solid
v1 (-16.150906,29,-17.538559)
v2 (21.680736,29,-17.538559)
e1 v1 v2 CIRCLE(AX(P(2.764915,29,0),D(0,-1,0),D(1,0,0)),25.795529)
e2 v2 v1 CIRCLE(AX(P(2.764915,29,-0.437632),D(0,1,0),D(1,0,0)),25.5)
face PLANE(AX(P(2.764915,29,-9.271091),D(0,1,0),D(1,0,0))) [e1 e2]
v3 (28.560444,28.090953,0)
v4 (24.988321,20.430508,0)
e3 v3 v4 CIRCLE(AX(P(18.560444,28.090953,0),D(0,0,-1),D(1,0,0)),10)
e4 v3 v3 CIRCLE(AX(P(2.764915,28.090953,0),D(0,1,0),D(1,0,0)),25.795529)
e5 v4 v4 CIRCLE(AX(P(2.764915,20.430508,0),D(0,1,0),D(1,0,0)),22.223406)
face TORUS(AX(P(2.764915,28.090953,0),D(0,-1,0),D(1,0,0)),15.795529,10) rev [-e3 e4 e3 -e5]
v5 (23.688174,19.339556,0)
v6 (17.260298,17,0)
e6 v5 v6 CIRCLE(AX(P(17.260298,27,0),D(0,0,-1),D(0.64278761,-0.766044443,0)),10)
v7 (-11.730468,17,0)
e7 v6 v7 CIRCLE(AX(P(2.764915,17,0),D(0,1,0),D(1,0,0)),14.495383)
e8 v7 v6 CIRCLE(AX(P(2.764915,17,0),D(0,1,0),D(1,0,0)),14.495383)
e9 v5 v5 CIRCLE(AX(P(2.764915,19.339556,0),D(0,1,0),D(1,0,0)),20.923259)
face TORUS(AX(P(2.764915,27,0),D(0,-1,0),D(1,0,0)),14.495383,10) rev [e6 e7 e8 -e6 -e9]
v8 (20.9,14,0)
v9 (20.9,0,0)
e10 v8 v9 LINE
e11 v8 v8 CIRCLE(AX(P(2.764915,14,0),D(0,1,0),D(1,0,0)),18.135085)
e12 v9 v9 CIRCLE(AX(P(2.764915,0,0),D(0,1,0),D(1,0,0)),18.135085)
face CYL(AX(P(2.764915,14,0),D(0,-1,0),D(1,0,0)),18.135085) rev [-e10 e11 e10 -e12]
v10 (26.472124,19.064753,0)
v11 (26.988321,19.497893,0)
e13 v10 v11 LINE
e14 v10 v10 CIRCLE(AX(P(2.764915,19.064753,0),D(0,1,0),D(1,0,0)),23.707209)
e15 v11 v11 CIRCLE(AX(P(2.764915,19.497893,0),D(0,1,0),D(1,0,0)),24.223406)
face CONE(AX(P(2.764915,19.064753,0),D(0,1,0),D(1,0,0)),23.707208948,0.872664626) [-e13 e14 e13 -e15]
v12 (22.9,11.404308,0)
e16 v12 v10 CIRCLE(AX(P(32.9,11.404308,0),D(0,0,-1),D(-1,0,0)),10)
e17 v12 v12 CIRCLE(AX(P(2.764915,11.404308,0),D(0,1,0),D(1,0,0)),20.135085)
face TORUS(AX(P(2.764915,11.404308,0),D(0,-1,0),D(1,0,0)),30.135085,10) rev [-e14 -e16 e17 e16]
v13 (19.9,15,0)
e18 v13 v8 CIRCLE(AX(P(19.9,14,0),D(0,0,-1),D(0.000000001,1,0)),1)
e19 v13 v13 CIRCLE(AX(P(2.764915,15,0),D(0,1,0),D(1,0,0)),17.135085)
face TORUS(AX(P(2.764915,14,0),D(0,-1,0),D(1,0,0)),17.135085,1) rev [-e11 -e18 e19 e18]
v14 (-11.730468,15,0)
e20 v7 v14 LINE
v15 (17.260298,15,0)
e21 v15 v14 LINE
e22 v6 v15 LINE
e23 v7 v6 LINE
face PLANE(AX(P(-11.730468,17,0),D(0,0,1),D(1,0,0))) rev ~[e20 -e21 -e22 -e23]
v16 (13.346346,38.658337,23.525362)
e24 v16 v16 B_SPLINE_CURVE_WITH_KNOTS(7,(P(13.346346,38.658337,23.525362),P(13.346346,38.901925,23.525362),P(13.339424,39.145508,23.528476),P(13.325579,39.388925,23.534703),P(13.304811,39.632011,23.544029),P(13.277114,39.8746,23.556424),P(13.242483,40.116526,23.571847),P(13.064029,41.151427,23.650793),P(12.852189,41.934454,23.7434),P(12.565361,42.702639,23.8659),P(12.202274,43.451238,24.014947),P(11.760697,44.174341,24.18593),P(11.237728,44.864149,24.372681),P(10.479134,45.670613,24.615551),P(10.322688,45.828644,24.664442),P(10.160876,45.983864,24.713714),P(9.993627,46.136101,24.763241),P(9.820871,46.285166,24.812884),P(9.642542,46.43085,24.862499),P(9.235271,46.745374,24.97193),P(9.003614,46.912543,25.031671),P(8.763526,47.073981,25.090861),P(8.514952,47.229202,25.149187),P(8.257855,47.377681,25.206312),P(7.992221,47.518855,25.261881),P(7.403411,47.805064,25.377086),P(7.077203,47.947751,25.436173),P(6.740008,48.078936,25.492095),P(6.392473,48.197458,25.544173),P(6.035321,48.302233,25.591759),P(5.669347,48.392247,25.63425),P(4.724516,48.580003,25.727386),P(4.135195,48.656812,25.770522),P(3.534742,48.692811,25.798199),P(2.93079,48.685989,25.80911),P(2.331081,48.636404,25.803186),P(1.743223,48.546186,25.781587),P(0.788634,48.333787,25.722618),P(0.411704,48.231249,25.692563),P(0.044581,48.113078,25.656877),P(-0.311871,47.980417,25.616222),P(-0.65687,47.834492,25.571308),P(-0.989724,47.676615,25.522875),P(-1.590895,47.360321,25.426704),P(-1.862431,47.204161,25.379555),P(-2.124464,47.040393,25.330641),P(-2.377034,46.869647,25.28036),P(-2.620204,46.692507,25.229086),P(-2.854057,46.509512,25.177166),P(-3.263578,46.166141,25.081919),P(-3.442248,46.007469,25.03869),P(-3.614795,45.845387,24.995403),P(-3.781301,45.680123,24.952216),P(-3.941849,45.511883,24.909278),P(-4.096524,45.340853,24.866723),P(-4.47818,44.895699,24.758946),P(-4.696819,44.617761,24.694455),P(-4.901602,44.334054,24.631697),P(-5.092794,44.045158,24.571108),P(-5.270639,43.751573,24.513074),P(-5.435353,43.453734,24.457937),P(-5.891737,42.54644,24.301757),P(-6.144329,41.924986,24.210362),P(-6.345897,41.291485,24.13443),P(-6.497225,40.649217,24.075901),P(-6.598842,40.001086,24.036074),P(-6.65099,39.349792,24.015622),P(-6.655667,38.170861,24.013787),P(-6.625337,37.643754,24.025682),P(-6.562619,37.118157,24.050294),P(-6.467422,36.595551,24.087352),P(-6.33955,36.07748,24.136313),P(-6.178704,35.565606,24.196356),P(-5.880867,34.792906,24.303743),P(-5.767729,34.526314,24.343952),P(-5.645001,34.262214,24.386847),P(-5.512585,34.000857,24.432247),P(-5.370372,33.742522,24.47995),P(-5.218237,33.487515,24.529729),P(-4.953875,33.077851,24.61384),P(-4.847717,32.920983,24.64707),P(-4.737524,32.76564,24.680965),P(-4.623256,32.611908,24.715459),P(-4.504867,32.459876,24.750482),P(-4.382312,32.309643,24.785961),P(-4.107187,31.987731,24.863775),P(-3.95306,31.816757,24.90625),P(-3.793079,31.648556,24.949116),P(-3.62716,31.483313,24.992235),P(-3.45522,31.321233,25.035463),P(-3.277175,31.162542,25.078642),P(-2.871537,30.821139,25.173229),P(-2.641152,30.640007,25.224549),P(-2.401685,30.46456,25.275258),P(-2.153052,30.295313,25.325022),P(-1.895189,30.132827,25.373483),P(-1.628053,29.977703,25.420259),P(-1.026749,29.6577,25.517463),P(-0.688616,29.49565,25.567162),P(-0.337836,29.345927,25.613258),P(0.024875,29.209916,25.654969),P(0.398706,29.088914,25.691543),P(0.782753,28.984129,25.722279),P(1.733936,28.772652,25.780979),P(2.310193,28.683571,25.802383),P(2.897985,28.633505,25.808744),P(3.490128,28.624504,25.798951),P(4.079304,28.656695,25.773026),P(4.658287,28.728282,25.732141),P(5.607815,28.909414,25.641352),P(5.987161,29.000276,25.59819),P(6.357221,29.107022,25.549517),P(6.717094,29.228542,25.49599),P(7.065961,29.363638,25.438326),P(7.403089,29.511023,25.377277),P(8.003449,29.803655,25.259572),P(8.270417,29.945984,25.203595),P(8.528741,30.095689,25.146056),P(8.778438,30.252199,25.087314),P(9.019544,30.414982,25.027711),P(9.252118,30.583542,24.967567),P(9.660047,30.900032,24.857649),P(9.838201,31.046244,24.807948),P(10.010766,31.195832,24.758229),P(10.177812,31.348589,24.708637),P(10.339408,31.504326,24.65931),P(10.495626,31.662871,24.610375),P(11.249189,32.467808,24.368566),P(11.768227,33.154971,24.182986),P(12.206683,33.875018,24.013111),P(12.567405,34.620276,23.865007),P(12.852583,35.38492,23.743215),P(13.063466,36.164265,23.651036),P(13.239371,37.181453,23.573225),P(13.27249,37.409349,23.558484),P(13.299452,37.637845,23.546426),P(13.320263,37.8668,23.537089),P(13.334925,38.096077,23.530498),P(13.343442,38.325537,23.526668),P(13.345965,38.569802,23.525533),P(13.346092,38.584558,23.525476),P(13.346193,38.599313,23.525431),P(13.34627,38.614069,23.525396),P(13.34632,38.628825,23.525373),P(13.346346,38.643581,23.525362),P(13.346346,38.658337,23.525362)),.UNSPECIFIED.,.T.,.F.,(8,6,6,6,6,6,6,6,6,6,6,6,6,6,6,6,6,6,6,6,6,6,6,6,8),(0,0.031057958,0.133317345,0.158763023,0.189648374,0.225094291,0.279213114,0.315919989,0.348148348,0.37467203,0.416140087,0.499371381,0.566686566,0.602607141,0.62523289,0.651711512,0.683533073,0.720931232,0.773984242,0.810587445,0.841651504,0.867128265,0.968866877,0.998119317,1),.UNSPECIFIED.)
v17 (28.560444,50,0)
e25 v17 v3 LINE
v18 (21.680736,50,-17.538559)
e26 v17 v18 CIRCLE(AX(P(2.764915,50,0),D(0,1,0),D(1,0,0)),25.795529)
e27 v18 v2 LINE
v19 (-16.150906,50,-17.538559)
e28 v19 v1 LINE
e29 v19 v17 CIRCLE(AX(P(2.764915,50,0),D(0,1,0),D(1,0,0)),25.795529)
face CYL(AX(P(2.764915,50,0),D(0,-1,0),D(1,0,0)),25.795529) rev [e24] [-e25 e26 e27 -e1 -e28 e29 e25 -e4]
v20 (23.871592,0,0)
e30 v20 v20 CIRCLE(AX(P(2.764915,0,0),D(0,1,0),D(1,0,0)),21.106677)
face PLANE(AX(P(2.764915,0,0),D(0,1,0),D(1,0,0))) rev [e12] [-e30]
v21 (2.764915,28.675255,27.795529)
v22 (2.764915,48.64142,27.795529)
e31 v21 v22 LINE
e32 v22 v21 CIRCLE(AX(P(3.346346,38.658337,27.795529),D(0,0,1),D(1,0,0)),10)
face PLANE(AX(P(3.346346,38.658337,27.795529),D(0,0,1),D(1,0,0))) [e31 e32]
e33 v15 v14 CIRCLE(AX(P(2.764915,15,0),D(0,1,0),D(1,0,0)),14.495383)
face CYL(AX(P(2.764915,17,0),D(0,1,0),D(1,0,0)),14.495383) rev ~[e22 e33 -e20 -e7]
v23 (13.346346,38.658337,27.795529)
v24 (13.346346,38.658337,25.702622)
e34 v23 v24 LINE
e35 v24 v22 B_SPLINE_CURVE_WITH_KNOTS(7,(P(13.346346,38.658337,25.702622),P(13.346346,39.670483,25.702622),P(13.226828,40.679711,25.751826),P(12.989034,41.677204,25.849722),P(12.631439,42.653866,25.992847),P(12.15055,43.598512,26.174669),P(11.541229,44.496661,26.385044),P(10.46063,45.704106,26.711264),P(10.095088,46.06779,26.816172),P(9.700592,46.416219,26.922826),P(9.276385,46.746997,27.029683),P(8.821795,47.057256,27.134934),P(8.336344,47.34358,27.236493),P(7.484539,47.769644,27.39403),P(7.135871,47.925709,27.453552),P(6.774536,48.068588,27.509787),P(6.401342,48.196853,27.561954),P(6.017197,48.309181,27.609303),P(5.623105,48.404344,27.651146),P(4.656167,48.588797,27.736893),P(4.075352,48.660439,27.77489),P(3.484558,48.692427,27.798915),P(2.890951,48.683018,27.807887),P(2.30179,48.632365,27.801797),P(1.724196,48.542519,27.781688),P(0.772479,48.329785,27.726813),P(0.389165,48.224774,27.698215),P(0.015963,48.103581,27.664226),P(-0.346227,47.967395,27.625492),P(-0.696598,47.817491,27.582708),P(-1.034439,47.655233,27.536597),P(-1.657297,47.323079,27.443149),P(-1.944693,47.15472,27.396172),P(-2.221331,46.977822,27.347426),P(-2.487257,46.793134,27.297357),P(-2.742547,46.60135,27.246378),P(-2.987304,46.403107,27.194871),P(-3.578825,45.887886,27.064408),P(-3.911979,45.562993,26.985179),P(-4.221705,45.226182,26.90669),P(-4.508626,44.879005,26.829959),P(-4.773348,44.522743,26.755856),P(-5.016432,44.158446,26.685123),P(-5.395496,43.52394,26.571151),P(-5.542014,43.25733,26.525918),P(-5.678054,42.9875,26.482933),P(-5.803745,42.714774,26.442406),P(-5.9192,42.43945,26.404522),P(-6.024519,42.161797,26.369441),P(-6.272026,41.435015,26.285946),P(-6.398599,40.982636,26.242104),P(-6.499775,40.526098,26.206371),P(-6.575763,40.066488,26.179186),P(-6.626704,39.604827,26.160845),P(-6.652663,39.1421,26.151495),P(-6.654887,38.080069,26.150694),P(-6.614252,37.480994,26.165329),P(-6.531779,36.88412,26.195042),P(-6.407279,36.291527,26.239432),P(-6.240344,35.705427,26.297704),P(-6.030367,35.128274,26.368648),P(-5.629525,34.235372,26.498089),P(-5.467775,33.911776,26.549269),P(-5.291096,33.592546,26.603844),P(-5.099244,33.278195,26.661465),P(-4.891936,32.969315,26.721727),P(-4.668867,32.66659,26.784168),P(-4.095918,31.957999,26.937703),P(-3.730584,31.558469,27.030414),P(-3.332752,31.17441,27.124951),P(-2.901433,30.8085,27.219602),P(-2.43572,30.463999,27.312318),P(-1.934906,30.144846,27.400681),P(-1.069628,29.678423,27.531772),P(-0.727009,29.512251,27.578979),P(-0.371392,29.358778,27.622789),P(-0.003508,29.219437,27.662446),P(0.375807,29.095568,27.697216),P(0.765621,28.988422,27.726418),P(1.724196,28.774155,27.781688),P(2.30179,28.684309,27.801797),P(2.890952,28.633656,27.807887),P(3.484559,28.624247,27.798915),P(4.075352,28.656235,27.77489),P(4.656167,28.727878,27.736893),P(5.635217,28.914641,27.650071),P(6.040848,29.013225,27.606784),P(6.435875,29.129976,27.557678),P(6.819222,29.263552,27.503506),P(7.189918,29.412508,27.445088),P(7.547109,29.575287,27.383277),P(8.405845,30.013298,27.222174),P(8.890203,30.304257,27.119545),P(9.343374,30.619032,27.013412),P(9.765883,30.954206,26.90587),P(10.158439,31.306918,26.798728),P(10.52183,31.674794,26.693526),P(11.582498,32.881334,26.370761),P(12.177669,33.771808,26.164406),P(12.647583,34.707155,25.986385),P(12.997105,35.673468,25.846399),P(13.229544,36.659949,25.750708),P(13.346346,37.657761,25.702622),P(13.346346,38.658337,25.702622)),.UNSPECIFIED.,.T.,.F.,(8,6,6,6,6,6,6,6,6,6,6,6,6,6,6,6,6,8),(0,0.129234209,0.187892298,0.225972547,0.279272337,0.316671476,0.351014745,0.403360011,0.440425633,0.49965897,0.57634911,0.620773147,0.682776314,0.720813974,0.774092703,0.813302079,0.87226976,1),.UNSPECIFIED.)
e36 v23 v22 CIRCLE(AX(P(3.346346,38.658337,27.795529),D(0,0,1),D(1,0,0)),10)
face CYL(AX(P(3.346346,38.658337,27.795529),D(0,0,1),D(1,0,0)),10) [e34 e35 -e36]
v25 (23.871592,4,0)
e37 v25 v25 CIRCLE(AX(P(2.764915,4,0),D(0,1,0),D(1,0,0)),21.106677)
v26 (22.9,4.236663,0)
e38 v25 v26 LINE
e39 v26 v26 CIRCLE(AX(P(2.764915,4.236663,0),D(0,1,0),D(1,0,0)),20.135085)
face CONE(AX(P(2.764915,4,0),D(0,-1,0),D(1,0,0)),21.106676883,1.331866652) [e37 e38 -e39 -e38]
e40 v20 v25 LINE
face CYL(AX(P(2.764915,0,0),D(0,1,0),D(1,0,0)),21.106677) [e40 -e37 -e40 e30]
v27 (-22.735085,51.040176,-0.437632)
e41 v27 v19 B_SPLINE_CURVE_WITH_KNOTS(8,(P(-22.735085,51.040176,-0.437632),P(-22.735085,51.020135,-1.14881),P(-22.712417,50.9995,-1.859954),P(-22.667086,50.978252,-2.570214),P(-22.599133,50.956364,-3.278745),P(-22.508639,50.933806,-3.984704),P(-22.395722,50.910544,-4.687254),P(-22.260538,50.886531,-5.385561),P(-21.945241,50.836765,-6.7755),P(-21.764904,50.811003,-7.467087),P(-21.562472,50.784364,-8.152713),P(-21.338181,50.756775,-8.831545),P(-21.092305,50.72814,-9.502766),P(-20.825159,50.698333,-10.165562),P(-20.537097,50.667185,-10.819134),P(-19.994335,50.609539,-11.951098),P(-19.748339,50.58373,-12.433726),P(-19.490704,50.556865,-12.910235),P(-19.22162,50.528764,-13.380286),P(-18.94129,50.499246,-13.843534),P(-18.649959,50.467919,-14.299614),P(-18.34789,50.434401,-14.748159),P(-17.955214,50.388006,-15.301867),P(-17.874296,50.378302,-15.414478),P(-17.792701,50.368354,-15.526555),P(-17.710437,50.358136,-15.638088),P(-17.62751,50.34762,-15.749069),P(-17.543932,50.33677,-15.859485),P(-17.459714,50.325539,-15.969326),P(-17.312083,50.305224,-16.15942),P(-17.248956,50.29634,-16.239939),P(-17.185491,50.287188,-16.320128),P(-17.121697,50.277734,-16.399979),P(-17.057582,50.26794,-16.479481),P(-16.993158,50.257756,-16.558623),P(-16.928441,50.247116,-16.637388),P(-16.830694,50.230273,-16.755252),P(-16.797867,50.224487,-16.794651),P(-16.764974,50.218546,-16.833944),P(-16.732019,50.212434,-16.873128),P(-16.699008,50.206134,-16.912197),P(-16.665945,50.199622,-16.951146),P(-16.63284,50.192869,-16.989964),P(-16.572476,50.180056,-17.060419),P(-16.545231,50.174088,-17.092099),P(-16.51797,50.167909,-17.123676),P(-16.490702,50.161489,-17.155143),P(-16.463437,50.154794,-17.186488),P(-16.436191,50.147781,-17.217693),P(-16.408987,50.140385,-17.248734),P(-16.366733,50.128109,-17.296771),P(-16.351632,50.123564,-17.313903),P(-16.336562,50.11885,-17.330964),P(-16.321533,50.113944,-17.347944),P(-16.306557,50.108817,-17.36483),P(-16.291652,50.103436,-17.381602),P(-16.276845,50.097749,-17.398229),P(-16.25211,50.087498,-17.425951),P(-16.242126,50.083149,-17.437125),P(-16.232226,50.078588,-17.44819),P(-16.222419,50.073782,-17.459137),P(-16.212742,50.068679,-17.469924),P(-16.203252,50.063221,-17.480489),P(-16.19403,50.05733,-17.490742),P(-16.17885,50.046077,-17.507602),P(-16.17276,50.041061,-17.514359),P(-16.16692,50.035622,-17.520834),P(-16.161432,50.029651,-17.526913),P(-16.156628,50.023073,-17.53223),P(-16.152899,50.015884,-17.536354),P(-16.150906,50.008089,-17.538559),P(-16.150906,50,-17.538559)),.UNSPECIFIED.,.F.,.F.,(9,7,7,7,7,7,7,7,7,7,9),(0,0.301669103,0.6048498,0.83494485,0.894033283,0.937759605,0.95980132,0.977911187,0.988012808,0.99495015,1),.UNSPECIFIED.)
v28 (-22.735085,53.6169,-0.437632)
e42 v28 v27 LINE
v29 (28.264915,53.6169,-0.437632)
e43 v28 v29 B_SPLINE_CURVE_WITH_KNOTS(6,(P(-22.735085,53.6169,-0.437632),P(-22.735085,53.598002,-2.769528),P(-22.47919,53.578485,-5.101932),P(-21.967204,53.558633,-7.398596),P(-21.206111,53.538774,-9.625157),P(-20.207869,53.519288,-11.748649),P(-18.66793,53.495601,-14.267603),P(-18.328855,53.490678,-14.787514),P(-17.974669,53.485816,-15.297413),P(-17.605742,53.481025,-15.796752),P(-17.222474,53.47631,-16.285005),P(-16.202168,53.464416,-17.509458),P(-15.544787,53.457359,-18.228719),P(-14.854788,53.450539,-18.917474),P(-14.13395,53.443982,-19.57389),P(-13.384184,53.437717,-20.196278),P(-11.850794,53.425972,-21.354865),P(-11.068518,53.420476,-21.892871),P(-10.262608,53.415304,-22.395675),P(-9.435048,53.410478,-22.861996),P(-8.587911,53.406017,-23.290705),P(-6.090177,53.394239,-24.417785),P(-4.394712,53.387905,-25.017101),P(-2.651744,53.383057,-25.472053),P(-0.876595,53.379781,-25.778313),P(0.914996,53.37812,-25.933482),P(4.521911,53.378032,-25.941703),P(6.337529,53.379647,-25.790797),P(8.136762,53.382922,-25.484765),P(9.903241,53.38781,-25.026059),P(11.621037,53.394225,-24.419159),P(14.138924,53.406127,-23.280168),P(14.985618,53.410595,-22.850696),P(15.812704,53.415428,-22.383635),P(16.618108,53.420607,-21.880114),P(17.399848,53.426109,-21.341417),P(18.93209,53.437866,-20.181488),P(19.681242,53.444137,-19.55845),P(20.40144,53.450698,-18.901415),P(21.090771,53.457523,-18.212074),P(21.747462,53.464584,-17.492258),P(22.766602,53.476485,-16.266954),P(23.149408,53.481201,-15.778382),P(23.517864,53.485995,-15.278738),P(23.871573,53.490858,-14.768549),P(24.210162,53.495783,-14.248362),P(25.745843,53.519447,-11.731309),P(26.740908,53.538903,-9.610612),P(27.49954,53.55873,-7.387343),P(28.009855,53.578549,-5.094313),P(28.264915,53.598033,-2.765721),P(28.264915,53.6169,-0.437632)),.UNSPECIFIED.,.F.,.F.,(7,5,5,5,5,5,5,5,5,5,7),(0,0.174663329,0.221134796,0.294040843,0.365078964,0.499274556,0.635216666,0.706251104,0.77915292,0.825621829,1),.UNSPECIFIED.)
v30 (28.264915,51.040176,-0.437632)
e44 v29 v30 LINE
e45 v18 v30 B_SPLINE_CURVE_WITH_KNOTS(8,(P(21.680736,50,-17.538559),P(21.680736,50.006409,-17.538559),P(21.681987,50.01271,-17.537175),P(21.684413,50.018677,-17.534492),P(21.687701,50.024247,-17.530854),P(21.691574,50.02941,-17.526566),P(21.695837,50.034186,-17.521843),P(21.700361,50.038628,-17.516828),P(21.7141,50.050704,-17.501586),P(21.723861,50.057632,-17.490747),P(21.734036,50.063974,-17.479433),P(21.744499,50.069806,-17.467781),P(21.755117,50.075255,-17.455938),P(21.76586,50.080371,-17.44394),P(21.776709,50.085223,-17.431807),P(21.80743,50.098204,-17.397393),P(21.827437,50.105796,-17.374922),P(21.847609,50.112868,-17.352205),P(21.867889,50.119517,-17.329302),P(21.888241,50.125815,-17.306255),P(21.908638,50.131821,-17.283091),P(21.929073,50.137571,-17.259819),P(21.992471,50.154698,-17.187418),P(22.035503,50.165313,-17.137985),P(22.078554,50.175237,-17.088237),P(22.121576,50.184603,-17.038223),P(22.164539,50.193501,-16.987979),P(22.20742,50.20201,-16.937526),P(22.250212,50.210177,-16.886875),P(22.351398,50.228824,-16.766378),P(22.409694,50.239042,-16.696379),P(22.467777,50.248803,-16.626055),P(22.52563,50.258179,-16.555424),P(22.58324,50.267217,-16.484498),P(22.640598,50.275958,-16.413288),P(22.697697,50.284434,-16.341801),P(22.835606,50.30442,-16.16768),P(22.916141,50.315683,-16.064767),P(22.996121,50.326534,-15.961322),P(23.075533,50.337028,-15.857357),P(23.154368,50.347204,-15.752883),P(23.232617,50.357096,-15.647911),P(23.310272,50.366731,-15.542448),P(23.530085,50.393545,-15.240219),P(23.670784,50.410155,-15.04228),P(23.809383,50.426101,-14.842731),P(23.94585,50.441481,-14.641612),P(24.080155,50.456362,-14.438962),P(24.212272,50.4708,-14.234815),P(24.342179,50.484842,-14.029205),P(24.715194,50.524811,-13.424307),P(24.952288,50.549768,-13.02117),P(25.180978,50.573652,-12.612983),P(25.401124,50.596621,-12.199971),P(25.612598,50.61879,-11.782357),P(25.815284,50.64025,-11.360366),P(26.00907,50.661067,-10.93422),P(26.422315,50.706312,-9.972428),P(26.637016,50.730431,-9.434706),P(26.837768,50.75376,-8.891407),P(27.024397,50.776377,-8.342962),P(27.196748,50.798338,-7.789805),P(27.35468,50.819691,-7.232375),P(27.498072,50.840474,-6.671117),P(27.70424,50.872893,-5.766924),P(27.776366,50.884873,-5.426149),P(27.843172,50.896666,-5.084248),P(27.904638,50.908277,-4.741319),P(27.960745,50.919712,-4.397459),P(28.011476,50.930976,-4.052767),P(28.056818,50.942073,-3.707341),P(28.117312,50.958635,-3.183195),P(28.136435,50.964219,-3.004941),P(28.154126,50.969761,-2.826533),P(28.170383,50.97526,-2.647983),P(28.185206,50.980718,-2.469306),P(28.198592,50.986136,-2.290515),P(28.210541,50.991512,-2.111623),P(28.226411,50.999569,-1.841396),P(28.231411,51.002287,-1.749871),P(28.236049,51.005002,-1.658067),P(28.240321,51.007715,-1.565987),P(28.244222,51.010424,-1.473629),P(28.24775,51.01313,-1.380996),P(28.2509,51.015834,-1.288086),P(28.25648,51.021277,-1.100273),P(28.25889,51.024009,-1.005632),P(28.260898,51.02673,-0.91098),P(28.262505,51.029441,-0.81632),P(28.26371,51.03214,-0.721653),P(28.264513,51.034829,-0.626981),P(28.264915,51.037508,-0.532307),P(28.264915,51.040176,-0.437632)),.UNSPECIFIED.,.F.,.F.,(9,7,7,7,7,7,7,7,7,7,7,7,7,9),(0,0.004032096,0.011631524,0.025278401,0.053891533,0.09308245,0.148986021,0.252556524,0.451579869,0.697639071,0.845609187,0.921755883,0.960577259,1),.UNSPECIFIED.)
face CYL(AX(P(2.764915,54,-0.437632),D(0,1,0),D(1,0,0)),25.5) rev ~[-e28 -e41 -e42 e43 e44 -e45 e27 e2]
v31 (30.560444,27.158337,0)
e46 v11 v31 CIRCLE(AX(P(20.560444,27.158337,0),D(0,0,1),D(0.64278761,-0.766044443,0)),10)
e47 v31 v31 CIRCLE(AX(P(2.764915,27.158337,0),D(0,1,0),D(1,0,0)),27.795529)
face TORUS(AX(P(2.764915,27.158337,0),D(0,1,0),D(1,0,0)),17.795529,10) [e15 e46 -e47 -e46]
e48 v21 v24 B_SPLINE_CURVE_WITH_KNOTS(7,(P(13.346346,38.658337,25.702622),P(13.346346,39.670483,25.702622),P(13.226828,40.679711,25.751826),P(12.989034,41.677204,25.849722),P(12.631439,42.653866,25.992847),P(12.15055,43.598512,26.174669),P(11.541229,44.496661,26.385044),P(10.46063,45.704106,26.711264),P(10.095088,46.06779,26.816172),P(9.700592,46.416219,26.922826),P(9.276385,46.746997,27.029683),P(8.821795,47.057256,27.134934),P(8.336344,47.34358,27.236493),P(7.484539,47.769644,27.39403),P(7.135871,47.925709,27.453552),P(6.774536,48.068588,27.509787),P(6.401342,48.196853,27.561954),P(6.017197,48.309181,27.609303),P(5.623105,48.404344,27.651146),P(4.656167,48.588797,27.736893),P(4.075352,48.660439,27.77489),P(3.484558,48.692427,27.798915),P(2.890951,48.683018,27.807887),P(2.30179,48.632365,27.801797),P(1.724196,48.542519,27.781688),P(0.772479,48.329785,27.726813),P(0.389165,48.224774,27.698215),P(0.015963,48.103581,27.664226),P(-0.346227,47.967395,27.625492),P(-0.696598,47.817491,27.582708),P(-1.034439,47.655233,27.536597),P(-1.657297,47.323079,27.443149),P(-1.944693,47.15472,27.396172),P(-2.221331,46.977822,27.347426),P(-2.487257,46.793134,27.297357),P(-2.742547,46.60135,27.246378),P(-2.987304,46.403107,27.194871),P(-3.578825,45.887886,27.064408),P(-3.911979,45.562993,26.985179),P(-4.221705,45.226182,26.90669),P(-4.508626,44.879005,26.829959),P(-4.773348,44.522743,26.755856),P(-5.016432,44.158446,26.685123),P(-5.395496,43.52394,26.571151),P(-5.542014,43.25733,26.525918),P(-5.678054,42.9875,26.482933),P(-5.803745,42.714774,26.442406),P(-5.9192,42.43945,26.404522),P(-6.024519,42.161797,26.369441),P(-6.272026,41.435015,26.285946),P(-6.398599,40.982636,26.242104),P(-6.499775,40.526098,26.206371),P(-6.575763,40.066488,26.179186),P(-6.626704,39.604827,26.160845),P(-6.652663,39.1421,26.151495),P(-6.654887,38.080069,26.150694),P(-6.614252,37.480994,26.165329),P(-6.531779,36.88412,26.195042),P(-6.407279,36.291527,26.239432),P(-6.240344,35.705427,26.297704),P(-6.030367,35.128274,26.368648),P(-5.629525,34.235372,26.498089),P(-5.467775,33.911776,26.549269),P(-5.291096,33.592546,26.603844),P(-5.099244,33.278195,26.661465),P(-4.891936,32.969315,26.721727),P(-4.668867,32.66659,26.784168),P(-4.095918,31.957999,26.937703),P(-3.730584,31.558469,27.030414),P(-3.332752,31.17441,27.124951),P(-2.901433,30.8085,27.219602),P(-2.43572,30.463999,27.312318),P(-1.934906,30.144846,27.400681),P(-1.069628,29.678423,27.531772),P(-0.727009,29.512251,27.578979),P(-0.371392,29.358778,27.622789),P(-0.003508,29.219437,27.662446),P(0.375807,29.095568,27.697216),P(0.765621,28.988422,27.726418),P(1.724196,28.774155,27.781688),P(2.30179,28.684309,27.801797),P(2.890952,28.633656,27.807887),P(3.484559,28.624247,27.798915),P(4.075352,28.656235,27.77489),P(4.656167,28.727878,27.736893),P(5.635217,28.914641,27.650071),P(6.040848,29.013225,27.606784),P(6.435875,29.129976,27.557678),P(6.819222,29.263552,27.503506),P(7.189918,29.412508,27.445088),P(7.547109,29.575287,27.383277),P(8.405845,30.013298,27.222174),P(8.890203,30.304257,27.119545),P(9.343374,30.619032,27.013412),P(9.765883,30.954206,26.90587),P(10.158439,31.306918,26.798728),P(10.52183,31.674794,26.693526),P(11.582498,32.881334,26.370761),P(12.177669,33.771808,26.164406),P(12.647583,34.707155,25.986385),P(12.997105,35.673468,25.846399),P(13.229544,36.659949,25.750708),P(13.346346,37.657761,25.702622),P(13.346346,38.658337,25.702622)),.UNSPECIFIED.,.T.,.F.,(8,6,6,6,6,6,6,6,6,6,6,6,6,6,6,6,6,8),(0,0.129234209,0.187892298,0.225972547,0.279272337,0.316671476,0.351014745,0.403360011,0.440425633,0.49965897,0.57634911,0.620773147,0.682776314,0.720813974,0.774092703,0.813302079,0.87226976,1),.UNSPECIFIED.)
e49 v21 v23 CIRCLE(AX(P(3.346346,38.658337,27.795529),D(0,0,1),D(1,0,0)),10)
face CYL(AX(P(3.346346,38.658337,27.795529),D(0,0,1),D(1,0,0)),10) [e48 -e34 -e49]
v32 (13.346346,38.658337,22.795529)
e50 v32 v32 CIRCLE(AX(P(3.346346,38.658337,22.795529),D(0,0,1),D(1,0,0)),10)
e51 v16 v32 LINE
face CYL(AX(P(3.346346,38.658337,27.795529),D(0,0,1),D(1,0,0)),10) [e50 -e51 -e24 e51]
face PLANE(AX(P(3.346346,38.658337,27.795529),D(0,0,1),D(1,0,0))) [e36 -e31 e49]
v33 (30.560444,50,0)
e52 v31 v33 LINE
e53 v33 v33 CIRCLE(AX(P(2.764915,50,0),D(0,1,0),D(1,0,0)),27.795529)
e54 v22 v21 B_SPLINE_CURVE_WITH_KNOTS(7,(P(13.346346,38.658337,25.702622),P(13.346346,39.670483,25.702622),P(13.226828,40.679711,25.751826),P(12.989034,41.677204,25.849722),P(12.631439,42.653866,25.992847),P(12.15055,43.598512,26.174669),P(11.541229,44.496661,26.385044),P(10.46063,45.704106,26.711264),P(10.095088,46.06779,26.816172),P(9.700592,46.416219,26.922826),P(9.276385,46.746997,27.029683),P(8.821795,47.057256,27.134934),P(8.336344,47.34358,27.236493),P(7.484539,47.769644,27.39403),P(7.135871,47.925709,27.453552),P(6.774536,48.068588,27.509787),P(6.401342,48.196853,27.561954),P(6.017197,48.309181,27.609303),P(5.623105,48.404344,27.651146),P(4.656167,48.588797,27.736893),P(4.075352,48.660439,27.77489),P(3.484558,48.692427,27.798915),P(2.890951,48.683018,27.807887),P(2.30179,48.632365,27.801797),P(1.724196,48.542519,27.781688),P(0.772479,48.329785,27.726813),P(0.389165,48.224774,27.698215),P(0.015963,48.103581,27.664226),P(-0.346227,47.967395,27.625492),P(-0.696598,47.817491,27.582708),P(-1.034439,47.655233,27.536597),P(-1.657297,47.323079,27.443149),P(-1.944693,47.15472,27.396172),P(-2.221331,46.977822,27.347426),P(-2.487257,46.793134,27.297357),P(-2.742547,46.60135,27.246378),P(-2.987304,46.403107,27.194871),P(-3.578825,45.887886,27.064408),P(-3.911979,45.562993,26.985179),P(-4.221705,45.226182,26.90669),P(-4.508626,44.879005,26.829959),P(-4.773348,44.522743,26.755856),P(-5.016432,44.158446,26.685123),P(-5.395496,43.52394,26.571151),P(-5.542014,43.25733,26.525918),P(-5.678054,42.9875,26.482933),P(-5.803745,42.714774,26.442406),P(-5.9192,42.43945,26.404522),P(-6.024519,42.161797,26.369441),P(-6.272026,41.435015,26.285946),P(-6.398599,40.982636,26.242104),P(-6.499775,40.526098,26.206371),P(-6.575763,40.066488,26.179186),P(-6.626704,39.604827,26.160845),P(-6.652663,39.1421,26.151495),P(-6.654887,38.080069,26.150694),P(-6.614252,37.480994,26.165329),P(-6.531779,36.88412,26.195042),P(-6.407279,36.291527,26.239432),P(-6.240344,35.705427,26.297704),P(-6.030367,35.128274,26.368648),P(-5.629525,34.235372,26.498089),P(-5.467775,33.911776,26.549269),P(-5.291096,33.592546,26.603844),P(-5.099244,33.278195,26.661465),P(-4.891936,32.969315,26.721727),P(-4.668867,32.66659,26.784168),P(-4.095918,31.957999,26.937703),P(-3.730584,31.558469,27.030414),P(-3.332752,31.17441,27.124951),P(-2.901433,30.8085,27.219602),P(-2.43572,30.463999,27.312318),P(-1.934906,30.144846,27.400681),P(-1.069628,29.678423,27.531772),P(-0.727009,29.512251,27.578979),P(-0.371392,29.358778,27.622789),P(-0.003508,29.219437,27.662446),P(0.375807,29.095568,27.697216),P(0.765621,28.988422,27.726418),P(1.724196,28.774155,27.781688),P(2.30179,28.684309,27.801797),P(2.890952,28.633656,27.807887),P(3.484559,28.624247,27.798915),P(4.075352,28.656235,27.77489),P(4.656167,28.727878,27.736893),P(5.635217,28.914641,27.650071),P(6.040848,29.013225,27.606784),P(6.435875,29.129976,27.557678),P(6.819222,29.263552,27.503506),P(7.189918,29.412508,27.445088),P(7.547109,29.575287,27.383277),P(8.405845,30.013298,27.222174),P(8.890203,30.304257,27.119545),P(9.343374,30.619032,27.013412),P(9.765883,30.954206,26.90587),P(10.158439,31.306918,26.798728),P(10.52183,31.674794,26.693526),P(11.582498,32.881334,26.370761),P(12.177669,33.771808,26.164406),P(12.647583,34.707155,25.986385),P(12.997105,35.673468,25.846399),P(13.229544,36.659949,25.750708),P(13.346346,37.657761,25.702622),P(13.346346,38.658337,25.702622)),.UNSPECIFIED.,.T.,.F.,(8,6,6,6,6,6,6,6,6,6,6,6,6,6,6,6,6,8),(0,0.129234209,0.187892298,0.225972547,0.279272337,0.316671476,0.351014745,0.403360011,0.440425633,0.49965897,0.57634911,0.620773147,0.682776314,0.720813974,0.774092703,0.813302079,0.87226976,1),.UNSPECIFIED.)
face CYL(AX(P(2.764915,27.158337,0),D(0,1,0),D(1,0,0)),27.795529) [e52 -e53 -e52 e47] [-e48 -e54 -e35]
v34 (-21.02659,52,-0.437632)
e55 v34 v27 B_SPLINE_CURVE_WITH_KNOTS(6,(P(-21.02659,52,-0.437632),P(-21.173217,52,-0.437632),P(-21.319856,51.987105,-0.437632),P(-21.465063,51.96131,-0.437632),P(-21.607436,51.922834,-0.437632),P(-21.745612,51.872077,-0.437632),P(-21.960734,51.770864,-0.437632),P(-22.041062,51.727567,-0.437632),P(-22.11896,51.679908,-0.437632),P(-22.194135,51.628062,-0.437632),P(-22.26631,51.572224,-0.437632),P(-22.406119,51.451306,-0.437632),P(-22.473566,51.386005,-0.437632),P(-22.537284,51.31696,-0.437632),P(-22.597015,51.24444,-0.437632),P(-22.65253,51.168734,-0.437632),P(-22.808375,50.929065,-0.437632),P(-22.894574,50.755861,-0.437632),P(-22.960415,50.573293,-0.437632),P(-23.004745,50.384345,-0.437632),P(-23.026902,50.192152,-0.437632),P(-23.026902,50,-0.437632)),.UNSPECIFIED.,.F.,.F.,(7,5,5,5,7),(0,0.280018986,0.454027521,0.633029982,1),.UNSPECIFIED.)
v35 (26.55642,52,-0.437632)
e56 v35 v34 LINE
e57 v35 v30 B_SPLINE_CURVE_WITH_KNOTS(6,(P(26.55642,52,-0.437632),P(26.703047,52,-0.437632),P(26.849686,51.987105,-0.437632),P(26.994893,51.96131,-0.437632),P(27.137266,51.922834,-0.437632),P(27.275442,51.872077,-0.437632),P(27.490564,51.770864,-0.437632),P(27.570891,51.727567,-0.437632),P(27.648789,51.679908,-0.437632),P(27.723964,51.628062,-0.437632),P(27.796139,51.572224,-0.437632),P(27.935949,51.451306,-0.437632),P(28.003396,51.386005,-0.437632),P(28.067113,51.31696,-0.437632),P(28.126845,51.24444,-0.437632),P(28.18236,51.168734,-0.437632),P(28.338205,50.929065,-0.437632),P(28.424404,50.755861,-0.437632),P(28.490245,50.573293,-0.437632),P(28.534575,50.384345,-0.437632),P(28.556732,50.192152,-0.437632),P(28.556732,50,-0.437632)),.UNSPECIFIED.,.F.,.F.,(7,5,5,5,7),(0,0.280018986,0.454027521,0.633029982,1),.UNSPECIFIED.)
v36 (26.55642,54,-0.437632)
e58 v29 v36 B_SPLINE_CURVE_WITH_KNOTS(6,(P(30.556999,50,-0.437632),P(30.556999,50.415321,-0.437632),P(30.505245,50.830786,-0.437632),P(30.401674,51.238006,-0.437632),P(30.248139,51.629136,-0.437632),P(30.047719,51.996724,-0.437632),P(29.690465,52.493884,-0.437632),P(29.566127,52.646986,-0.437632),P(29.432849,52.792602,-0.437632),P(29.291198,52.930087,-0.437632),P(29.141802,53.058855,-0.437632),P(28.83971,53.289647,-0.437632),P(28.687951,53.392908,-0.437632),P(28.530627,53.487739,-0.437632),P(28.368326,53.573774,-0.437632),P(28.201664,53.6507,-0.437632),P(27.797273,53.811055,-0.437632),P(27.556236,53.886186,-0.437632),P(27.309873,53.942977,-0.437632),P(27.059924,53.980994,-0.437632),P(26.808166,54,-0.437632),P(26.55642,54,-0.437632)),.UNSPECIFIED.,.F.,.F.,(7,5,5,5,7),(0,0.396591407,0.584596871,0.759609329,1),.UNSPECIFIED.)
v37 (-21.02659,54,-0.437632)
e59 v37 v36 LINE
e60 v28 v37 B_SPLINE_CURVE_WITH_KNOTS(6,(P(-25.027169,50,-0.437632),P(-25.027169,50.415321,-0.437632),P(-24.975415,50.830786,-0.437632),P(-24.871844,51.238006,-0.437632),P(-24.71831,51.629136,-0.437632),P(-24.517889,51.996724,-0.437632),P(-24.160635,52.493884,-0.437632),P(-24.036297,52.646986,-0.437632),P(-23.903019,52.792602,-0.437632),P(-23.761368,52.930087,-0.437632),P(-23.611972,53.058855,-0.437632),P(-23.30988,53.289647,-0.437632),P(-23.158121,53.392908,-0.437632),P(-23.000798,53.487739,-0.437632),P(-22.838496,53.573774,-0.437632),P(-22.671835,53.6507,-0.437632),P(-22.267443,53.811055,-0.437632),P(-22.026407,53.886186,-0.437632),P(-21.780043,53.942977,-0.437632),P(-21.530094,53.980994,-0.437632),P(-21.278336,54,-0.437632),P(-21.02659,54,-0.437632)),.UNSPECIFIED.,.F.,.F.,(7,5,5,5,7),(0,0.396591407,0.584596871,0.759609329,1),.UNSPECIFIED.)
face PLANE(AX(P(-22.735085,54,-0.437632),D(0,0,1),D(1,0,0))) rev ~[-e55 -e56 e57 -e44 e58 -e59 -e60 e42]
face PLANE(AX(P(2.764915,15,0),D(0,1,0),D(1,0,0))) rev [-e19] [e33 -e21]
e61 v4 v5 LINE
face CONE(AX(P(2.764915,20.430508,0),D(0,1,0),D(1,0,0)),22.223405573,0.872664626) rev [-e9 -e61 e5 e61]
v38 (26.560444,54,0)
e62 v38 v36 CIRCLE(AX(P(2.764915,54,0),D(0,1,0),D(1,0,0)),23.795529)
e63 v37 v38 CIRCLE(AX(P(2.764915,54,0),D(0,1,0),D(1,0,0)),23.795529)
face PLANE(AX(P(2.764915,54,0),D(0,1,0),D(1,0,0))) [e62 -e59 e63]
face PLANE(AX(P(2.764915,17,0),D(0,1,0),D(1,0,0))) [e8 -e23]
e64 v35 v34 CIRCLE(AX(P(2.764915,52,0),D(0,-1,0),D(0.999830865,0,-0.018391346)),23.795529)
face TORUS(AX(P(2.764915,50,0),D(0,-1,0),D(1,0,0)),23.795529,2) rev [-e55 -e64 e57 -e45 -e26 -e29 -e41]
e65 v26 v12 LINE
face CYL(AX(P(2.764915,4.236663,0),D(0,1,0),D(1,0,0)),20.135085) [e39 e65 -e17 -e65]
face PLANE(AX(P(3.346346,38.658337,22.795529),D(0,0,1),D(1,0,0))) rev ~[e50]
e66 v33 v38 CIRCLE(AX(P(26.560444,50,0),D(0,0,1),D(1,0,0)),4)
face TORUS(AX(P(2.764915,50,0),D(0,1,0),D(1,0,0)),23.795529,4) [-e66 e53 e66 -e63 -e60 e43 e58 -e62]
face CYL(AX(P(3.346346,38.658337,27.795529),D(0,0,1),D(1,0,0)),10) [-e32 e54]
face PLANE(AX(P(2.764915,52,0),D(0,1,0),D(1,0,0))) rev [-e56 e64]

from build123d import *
from build123d.topology import SkipClean

# Parameters (mm, degrees)
CUT_EXTRUDE2_DEPTH  = 25
SKETCH10_R          = 10
BOSS_EXTRUDE1_DEPTH = 5
CUT_EXTRUDE3_DEPTH  = 10


with BuildPart() as part:
    # Sketch1 → Revolve1 (revolve)
    with BuildSketch(Plane.XY):
        with BuildLine():
            Line((20.9, 0), (23.871591838, 0))
            Line((23.871591838, 0), (23.871591838, 4))
            Line((23.871591838, 4), (22.9, 4.236662843))
            Line((22.9, 4.236662843), (22.9, 11.404308102))
            ThreePointArc((22.9, 11.404308102), (23.83692213, 15.63049072), (26.472123903, 19.064752533))
            Line((26.472123903, 19.064752533), (26.988320528, 19.497892931))
            ThreePointArc((26.988320528, 19.497892931), (29.623522302, 22.932154745), (30.560444431, 27.158337362))
            Line((30.560444431, 27.158337362), (30.560444431, 50))
            ThreePointArc((30.560444431, 50), (29.388871556, 52.828427125), (26.560444431, 54))
            Line((26.560444431, 54), (2.764914955, 54))
            Line((2.764914955, 54), (2.764914955, 52))
            Line((2.764914955, 52), (26.560444431, 52))
            ThreePointArc((26.560444431, 52), (27.974657994, 51.414213562), (28.560444431, 50))
            Line((28.560444431, 50), (28.560444431, 28.090952678))
            ThreePointArc((28.560444431, 28.090952678), (27.623522302, 23.864770061), (24.988320528, 20.430508247))
            Line((24.988320528, 20.430508247), (23.688173754, 19.339555569))
            ThreePointArc((23.688173754, 19.339555569), (20.680499091, 17.603073792), (17.260297657, 17))
            Line((17.260297657, 17), (2.764914955, 17))
            Line((2.764914955, 17), (2.764914955, 15))
            Line((2.764914955, 15), (19.9, 15))
            ThreePointArc((19.9, 15), (20.607106781, 14.707106781), (20.9, 14))
            Line((20.9, 14), (20.9, 0))
        make_face()
    revolve(axis=Axis((2.764914955, 7.821821657, 0), (0, 1, 0)))

    # Sketch9 → Cut-Extrude2 (cut)
    with BuildSketch(Plane(origin=(0, 54, 0), x_dir=(1, 0, 0), z_dir=(0, 1, 0))):
        with BuildLine():
            Line((-22.735085045, 0.437631804), (28.264914955, 0.437631804))
            ThreePointArc((28.264914955, 0.437631804), (2.764914955, 25.937631804), (-22.735085045, 0.437631804))
        make_face()
    extrude(amount=-CUT_EXTRUDE2_DEPTH, mode=Mode.SUBTRACT)

    # Sketch10 → Boss-Extrude1 (add)
    with SkipClean():  # the faces are left unmerged after this step: merging them gives an invalid solid
        with BuildSketch(Plane.XY.offset(27.795529476)):
            with Locations((3.346345887, 38.658337362)):
                Circle(SKETCH10_R)
        extrude(amount=-BOSS_EXTRUDE1_DEPTH)

    # Sketch11 → Cut-Extrude3 (cut)
    with SkipClean():  # the faces are left unmerged after this step: merging them gives an invalid solid
        with BuildSketch(Plane(origin=(0, 17, 0), x_dir=(1, 0, 0), z_dir=(0, 1, 0))):
            with BuildLine():
                Line((-11.730467747, 0), (17.260297657, 0))
                ThreePointArc((17.260297657, 0), (2.764914955, 14.495382702), (-11.730467747, 0))
            make_face()
        extrude(amount=-CUT_EXTRUDE3_DEPTH, mode=Mode.SUBTRACT)


solid = part.part
